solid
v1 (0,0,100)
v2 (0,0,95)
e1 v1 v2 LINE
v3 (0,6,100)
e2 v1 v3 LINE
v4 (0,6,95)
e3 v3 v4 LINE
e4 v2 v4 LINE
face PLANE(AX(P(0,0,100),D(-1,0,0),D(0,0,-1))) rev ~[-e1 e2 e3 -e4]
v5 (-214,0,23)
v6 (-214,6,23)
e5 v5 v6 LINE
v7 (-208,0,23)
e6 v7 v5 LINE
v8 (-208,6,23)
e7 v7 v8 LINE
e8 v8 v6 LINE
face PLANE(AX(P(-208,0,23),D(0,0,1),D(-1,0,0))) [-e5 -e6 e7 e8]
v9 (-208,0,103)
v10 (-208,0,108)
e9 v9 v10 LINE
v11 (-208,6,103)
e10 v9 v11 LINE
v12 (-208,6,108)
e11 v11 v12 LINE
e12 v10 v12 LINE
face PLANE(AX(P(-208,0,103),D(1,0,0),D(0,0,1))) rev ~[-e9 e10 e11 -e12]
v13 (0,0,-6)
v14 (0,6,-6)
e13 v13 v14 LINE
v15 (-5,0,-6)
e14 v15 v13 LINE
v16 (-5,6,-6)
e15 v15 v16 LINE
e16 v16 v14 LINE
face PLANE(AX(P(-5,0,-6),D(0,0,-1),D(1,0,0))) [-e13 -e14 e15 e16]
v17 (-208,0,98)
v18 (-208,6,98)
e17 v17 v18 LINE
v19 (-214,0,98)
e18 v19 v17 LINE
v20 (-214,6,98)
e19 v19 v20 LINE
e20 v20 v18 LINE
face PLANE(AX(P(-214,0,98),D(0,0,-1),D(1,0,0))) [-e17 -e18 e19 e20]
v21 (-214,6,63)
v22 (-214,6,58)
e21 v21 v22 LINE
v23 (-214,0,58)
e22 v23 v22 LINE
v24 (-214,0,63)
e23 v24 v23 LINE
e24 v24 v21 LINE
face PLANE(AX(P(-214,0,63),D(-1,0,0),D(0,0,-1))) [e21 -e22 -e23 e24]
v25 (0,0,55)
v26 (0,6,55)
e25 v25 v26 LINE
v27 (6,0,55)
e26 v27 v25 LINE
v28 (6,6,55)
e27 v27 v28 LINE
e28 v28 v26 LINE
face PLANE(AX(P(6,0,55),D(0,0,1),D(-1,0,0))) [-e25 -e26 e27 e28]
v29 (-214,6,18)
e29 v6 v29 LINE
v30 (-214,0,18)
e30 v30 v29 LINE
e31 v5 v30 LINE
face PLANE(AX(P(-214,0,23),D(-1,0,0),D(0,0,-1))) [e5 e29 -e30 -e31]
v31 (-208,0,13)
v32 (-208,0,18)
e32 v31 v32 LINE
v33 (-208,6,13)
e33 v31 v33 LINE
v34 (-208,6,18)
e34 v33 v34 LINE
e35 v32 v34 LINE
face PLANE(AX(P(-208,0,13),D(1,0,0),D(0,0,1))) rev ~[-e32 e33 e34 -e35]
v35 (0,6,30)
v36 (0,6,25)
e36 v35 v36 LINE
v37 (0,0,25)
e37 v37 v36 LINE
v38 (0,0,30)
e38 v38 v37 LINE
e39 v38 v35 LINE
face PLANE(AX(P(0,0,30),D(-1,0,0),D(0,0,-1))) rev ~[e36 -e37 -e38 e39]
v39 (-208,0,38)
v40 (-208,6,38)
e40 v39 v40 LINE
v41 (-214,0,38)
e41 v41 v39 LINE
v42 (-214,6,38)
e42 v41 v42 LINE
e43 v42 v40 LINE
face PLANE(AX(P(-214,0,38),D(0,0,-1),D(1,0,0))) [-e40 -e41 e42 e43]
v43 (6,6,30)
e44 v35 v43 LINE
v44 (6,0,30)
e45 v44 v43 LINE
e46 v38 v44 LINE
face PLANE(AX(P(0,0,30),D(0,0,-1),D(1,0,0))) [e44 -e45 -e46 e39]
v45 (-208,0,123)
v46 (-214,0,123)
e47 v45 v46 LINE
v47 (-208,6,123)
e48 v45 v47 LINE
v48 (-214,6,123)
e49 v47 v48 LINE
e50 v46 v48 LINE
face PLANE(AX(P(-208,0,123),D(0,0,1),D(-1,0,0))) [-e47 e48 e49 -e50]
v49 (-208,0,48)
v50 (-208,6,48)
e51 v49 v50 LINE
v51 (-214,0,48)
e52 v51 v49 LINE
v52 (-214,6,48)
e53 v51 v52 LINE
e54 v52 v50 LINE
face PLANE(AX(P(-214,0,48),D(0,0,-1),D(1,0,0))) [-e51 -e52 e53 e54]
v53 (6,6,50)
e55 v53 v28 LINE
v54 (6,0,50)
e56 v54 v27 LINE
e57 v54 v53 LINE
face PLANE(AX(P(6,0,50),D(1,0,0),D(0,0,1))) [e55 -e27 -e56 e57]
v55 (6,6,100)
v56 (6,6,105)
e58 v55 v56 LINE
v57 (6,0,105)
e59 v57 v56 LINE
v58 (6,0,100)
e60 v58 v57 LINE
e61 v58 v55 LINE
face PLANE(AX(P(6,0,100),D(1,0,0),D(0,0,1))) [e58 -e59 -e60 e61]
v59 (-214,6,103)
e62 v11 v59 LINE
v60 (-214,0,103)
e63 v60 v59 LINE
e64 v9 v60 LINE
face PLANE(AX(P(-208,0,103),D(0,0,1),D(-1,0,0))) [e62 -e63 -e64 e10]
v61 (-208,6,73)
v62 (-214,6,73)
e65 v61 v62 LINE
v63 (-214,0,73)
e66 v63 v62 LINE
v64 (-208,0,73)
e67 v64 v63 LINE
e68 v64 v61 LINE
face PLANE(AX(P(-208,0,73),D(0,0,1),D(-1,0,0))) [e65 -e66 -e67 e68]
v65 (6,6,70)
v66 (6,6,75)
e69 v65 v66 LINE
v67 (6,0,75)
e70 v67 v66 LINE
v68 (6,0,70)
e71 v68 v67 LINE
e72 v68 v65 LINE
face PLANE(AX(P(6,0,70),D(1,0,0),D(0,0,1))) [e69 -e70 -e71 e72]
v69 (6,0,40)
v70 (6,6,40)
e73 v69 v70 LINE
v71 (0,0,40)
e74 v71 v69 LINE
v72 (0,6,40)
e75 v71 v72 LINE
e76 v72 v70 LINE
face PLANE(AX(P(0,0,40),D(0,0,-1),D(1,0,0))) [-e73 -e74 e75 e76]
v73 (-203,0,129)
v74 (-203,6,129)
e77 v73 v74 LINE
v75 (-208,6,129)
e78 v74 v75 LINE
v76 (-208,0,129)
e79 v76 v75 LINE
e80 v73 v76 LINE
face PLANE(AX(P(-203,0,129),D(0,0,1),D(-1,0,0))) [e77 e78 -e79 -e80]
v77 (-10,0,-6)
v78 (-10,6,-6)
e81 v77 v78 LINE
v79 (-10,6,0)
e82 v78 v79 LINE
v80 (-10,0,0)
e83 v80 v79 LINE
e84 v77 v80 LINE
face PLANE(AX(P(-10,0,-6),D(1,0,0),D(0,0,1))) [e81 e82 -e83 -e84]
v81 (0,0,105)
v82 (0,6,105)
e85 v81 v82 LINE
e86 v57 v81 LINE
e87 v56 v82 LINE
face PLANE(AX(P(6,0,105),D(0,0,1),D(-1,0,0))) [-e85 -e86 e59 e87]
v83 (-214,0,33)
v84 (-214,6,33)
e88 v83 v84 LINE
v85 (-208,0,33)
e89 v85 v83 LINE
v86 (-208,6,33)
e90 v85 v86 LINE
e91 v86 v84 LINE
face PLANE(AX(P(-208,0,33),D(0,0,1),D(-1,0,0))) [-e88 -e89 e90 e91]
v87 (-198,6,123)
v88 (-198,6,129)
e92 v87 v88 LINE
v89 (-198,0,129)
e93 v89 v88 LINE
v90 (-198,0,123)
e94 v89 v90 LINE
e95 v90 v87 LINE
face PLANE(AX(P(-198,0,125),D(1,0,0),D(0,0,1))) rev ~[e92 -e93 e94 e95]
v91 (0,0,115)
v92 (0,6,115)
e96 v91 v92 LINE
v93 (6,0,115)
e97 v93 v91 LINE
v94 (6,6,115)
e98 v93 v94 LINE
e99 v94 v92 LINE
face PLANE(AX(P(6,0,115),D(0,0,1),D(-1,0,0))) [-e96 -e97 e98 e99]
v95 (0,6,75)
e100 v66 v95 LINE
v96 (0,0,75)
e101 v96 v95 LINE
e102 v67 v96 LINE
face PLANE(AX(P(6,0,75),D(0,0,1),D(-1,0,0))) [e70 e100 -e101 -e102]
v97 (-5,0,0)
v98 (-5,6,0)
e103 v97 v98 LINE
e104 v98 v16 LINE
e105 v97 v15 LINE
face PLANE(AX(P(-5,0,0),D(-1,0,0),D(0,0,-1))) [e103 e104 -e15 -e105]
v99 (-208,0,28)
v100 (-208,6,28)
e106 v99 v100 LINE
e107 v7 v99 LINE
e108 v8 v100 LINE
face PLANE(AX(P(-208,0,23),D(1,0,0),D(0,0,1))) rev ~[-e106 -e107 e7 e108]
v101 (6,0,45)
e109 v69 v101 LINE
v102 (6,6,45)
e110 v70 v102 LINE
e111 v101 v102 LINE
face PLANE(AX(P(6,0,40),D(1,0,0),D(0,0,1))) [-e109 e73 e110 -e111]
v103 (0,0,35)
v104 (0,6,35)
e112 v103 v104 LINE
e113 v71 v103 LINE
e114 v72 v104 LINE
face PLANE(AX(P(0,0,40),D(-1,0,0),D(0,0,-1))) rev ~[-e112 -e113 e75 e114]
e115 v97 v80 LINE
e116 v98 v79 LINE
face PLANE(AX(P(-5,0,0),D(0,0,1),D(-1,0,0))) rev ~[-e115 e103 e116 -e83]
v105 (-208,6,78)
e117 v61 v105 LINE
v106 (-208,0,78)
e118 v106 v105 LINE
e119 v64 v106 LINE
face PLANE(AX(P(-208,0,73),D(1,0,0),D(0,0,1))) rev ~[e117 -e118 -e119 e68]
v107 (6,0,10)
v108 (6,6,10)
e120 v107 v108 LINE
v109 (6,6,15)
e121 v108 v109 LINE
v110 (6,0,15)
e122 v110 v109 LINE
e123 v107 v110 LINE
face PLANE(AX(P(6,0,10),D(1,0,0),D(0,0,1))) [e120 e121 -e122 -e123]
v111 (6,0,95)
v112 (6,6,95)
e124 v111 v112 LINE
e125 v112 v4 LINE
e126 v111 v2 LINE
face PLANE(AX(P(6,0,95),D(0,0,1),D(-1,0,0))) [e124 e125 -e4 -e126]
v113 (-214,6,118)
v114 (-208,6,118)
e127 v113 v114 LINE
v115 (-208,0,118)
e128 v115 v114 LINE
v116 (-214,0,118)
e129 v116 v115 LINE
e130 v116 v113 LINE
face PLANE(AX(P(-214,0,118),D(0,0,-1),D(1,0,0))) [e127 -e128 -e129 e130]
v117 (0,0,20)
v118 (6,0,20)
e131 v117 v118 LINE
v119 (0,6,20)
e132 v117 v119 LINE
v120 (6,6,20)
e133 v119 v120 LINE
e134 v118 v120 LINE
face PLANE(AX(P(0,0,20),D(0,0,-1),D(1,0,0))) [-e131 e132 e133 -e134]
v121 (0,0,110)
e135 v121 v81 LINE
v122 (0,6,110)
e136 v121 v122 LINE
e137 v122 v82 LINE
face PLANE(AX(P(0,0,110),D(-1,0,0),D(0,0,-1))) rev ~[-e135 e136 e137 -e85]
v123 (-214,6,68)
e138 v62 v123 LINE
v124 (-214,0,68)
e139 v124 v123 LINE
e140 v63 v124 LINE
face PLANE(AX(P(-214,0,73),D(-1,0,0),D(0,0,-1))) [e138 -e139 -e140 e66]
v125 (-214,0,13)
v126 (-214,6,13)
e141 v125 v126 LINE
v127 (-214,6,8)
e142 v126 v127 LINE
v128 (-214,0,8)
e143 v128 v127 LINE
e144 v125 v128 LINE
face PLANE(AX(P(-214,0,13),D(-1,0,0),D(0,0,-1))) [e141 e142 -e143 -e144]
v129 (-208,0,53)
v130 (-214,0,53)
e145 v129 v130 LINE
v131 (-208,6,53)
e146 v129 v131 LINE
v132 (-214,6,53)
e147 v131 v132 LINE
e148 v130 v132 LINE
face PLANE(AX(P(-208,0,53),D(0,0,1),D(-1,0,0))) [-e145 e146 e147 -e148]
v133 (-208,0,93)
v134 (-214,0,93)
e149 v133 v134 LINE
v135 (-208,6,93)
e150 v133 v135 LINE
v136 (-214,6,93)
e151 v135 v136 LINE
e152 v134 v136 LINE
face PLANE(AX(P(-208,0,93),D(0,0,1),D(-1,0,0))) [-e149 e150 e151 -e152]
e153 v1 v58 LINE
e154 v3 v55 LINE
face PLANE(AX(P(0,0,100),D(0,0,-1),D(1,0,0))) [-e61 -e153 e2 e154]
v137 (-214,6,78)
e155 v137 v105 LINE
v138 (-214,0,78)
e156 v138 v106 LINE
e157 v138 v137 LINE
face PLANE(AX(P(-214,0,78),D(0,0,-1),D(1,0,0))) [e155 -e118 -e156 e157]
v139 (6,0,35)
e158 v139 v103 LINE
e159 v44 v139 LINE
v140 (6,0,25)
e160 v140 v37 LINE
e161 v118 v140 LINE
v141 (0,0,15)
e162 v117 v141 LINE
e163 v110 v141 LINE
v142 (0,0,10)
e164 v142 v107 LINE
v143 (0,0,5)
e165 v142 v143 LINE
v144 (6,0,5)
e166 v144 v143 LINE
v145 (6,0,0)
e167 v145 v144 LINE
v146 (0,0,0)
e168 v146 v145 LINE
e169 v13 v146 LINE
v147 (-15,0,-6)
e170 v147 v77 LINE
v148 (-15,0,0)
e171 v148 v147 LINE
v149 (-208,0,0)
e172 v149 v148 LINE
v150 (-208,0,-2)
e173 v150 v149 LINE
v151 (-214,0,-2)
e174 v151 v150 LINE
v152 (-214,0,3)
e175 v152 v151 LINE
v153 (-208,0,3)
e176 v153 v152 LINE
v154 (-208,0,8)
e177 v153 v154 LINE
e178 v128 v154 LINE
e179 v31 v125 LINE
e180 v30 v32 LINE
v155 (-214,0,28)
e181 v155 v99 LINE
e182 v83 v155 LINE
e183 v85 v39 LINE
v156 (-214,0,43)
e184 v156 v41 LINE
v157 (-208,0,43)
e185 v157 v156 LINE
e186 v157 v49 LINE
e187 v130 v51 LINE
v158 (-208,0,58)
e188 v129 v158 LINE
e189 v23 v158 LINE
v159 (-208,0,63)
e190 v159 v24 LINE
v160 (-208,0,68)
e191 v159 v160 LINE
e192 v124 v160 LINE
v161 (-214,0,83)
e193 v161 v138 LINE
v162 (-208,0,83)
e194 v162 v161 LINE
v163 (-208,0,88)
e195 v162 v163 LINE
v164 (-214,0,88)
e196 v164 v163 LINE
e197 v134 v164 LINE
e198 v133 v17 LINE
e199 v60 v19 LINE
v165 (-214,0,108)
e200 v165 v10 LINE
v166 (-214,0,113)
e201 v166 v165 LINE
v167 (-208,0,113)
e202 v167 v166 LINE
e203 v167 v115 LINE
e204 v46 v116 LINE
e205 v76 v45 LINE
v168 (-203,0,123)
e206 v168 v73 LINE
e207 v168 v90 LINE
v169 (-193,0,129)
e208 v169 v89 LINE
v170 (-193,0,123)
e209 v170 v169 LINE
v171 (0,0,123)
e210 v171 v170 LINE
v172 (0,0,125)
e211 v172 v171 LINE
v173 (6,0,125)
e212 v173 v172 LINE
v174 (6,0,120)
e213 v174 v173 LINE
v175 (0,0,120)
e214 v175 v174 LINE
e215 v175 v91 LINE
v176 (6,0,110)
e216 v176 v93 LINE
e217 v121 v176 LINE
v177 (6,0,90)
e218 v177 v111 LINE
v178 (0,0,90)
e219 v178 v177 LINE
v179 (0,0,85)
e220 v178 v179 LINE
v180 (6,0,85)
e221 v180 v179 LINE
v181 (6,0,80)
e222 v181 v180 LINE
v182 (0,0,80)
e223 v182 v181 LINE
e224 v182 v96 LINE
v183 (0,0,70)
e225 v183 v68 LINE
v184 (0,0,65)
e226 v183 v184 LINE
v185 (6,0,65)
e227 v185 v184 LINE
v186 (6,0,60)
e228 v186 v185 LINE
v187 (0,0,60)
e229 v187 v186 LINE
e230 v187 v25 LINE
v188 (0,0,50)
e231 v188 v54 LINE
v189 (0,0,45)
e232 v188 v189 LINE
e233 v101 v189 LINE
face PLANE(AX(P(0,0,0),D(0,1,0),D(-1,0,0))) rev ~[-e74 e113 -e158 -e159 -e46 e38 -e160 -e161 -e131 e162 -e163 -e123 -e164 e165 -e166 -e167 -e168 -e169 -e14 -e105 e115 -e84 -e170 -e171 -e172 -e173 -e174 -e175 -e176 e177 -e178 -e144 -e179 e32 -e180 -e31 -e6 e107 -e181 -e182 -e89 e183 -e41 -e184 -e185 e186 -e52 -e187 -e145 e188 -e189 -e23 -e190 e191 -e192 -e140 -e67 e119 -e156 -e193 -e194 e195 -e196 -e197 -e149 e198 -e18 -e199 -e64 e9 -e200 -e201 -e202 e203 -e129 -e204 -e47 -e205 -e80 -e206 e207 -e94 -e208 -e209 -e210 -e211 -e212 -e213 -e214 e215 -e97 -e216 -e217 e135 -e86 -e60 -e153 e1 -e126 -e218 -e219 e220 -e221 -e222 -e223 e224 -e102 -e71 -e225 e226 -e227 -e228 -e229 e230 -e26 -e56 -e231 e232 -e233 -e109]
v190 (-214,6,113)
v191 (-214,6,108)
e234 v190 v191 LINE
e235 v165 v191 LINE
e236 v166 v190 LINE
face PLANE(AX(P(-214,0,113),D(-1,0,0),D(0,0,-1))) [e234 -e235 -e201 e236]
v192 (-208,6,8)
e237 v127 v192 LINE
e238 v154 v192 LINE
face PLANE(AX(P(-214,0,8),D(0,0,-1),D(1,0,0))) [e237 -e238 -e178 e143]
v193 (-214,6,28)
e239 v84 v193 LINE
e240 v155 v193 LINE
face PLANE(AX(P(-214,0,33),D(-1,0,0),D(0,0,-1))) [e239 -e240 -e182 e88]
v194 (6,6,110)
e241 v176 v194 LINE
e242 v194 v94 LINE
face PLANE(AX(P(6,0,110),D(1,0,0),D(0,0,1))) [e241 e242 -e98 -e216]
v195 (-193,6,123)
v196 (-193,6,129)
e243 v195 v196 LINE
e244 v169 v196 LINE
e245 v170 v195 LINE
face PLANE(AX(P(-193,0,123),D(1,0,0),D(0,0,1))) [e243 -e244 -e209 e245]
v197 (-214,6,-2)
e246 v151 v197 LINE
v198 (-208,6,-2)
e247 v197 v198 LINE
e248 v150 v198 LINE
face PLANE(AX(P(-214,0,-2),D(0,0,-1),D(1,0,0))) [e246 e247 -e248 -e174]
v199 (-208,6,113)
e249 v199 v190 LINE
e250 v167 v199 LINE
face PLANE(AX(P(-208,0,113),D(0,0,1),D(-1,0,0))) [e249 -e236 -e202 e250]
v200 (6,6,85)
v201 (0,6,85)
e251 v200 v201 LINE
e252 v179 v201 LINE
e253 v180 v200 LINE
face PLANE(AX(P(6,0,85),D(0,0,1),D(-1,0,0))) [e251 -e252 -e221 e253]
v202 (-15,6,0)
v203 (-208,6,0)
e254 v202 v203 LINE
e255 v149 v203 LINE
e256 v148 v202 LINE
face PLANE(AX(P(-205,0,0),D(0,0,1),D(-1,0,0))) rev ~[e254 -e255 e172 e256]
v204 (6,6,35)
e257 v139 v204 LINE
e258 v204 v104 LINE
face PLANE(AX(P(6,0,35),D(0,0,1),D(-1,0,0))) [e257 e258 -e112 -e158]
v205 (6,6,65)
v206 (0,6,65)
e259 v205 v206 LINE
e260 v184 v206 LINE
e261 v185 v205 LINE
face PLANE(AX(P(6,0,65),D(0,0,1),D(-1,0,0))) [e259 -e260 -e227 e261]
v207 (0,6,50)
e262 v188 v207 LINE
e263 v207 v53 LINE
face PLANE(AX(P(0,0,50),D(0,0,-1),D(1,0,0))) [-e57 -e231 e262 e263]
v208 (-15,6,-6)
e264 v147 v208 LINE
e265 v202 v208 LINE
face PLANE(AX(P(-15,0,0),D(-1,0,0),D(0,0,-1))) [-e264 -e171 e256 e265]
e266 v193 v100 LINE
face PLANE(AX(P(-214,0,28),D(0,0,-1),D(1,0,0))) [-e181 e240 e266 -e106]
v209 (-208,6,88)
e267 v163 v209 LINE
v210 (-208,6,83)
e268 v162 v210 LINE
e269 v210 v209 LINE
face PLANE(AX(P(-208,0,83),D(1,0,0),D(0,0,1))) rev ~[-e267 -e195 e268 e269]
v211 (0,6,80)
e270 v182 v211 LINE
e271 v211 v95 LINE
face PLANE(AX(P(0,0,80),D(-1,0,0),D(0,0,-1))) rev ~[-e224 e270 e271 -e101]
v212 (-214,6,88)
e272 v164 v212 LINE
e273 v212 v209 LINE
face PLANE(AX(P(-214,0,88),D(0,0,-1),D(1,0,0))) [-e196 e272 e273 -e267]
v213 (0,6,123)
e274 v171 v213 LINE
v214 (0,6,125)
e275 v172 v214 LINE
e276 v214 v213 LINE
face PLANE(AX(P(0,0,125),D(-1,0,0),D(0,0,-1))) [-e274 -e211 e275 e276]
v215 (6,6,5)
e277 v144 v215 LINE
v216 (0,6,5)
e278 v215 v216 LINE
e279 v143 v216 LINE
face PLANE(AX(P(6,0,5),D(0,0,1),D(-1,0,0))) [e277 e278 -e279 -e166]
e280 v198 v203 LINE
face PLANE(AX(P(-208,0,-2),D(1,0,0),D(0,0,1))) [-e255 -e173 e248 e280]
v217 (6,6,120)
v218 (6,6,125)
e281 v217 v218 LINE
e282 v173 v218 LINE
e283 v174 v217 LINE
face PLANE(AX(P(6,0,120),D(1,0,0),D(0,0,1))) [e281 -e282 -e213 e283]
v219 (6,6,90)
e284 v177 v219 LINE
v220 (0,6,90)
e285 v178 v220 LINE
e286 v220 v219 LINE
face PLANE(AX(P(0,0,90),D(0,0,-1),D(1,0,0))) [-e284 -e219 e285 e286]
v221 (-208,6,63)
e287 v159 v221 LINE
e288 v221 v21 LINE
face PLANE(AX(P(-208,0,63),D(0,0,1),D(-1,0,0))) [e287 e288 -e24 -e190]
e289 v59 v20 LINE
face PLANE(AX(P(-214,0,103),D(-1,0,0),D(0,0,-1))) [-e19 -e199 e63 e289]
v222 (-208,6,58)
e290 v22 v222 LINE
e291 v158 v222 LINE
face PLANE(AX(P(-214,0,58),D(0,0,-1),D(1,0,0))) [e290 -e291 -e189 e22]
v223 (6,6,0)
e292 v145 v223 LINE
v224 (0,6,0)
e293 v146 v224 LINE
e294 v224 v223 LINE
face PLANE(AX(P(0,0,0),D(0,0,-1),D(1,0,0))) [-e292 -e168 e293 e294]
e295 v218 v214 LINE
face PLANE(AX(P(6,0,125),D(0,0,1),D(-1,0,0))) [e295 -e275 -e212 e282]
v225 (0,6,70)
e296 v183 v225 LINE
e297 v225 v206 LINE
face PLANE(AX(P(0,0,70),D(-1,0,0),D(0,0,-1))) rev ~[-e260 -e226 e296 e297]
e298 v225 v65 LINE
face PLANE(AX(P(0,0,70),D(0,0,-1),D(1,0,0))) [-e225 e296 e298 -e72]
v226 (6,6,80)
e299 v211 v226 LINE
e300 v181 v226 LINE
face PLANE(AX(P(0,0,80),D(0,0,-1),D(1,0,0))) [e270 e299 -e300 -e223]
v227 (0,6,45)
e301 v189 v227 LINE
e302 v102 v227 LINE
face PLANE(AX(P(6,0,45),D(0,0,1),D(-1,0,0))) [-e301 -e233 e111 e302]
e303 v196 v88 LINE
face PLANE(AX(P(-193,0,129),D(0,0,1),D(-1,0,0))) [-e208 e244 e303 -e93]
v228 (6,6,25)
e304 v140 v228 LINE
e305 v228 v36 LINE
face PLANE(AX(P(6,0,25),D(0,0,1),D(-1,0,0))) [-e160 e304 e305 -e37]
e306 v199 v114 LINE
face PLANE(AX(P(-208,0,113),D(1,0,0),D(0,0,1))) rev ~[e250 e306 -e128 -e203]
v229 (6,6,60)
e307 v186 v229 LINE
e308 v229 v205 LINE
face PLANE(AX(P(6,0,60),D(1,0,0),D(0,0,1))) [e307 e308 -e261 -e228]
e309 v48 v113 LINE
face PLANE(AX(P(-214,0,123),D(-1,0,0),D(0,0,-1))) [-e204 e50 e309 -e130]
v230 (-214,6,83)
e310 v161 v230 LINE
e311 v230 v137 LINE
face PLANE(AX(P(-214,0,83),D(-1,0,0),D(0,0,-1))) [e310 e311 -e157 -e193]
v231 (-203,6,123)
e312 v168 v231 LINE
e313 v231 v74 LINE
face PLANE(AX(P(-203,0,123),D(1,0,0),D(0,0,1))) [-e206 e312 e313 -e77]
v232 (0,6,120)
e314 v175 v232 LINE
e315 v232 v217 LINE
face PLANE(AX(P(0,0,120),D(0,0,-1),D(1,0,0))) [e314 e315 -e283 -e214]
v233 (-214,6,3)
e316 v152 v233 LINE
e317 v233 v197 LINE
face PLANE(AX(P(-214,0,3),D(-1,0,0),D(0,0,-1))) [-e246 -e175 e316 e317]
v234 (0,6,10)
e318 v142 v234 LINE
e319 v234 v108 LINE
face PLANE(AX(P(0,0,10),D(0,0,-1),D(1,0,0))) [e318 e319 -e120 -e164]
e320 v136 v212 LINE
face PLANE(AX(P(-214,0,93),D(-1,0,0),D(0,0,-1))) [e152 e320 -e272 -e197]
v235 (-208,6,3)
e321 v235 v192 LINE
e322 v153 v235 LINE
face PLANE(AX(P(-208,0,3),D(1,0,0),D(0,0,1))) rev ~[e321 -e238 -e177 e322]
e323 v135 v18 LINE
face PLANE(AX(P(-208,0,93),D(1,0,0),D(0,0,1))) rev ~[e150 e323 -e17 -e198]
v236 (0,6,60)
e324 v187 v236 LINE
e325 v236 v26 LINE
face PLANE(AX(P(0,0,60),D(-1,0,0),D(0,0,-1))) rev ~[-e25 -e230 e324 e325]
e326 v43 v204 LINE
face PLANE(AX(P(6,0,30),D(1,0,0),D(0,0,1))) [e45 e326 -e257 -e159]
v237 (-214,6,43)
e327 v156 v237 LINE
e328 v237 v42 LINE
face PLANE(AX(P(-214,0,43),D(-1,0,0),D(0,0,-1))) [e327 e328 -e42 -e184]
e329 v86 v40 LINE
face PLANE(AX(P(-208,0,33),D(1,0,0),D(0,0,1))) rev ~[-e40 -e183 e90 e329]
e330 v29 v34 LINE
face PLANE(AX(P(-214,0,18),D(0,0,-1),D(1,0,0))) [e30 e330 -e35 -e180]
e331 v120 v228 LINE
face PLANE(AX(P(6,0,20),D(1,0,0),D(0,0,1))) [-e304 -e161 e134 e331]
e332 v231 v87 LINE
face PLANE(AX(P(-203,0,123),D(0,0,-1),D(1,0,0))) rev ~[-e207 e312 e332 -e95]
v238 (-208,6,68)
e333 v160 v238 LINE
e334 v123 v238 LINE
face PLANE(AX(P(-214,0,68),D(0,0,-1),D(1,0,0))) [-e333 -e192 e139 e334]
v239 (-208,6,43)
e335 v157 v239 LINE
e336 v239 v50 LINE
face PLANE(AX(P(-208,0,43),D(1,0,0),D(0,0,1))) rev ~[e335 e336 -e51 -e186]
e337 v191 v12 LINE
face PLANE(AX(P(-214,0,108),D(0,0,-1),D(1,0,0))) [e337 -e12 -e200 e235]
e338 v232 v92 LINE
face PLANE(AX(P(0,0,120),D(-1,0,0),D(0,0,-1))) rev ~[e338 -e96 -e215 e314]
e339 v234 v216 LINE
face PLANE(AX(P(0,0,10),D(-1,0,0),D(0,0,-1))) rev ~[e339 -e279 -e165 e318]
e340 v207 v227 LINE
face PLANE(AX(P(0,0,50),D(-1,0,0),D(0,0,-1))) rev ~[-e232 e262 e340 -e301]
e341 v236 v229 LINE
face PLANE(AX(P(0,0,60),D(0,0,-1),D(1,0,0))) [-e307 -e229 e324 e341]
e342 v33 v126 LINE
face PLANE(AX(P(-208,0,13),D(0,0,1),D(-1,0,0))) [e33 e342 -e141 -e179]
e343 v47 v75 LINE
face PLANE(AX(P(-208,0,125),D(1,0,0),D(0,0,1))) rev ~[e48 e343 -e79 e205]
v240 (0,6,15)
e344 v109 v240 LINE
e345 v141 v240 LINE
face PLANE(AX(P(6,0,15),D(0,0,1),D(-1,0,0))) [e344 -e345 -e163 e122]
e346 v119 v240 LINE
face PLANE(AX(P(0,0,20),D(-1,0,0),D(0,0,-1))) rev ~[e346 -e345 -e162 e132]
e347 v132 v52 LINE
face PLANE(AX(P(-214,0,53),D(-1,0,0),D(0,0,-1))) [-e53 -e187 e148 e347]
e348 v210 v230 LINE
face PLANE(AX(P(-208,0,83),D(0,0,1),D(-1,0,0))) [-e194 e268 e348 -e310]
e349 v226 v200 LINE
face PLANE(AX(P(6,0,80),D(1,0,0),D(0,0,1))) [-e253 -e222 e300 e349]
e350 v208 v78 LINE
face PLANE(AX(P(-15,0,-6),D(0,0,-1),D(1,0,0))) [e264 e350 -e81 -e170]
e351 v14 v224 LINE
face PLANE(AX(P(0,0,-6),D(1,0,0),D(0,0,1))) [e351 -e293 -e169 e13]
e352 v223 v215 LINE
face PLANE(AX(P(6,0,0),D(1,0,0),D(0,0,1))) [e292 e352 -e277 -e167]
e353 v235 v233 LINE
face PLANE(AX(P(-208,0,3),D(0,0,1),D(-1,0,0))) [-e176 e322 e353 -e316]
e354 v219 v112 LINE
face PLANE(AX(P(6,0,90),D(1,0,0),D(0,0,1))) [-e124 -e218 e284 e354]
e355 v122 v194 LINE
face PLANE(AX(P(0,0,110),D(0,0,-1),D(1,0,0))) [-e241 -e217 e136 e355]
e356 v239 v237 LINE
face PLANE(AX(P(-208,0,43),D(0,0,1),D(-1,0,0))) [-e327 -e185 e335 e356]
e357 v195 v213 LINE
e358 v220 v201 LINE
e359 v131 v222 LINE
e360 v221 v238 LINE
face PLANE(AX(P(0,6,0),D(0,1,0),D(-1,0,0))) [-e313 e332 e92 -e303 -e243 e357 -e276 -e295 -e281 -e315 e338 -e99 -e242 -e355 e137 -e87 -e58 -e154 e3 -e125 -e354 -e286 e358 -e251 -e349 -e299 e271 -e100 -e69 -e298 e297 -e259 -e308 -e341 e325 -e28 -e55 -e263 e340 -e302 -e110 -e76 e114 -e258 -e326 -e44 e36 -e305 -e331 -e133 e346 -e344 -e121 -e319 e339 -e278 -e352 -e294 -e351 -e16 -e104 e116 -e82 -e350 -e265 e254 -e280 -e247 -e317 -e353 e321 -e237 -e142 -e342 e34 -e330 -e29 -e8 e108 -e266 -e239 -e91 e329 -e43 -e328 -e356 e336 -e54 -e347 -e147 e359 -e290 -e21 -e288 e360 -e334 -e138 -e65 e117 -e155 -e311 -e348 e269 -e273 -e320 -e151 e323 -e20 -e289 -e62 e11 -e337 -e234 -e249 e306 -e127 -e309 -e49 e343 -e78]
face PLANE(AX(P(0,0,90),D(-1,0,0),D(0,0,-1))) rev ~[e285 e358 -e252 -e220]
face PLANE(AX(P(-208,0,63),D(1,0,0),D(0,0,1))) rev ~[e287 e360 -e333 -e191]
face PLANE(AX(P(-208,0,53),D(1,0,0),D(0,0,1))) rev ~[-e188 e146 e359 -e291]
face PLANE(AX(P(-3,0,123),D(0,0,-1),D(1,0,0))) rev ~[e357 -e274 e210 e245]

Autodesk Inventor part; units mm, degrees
ref_plane "YZ Plane" through (0, 0, 0) normal (1, 0, 0) x (0, 1, 0)
ref_plane "XZ Plane" through (0, 0, 0) normal (0, 1, 0) x (-1, 0, 0)
ref_plane "XY Plane" through (0, 0, 0) normal (0, 0, 1) x (1, 0, 0)
sketch "Эскиз1" plane through (0, 0, 0) normal (0, 1, 0) x (-1, 0, 0)
  line L0 (0, 0) -> (208, 0)
  line L1 (208, 0) -> (208, 123)
  line L2 (208, 123) -> (0, 123)
  line L3 (0, 123) -> (0, 0)
  line L4 (208, 125) -> (208, 130)
  line L5 (208, 123) -> (214, 123)
  line L6 (214, 123) -> (214, 118)
  line L7 (214, 118) -> (208, 118)
  line L8 (208, 118) -> (208, 123)
  line L9 (208, 113) -> (214, 113)
  line L10 (214, 113) -> (214, 108)
  line L11 (214, 108) -> (208, 108)
  line L12 (208, 108) -> (208, 113)
  line L13 (208, 103) -> (214, 103)
  line L14 (214, 103) -> (214, 98)
  line L15 (214, 98) -> (208, 98)
  line L16 (208, 98) -> (208, 103)
  line L17 (208, 93) -> (214, 93)
  line L18 (214, 93) -> (214, 88)
  line L19 (214, 88) -> (208, 88)
  line L20 (208, 88) -> (208, 93)
  line L21 (208, 83) -> (214, 83)
  line L22 (214, 83) -> (214, 78)
  line L23 (214, 78) -> (208, 78)
  line L24 (208, 78) -> (208, 83)
  line L25 (208, 73) -> (214, 73)
  line L26 (214, 73) -> (214, 68)
  line L27 (214, 68) -> (208, 68)
  line L28 (208, 68) -> (208, 73)
  line L29 (208, 63) -> (214, 63)
  line L30 (214, 63) -> (214, 58)
  line L31 (214, 58) -> (208, 58)
  line L32 (208, 58) -> (208, 63)
  line L33 (208, 53) -> (214, 53)
  line L34 (214, 53) -> (214, 48)
  line L35 (214, 48) -> (208, 48)
  line L36 (208, 48) -> (208, 53)
  line L37 (208, 43) -> (214, 43)
  line L38 (214, 43) -> (214, 38)
  line L39 (214, 38) -> (208, 38)
  line L40 (208, 38) -> (208, 43)
  line L41 (208, 33) -> (214, 33)
  line L42 (214, 33) -> (214, 28)
  line L43 (214, 28) -> (208, 28)
  line L44 (208, 28) -> (208, 33)
  line L45 (208, 23) -> (214, 23)
  line L46 (214, 23) -> (214, 18)
  line L47 (214, 18) -> (208, 18)
  line L48 (208, 18) -> (208, 23)
  line L49 (208, 13) -> (214, 13)
  line L50 (214, 13) -> (214, 8)
  line L51 (214, 8) -> (208, 8)
  line L52 (208, 8) -> (208, 13)
  line L53 (208, 3) -> (214, 3)
  line L54 (214, 3) -> (214, -2)
  line L55 (214, -2) -> (208, -2)
  line L56 (208, -2) -> (208, 3)
  line L57 (0, 0) -> (-6, 0)
  line L58 (-6, 0) -> (-6, 5)
  line L59 (-6, 5) -> (0, 5)
  line L60 (0, 5) -> (0, 0)
  line L61 (0, 15) -> (0, 10)
  line L62 (0, 10) -> (-6, 10)
  line L63 (-6, 10) -> (-6, 15)
  line L64 (-6, 15) -> (0, 15)
  line L65 (0, 25) -> (0, 20)
  line L66 (0, 20) -> (-6, 20)
  line L67 (-6, 20) -> (-6, 25)
  line L68 (-6, 25) -> (0, 25)
  line L69 (0, 35) -> (0, 30)
  line L70 (0, 30) -> (-6, 30)
  line L71 (-6, 30) -> (-6, 35)
  line L72 (-6, 35) -> (0, 35)
  line L73 (0, 45) -> (0, 40)
  line L74 (0, 40) -> (-6, 40)
  line L75 (-6, 40) -> (-6, 45)
  line L76 (-6, 45) -> (0, 45)
  line L77 (0, 55) -> (0, 50)
  line L78 (0, 50) -> (-6, 50)
  line L79 (-6, 50) -> (-6, 55)
  line L80 (-6, 55) -> (0, 55)
  line L81 (0, 65) -> (0, 60)
  line L82 (0, 60) -> (-6, 60)
  line L83 (-6, 60) -> (-6, 65)
  line L84 (-6, 65) -> (0, 65)
  line L85 (0, 75) -> (0, 70)
  line L86 (0, 70) -> (-6, 70)
  line L87 (-6, 70) -> (-6, 75)
  line L88 (-6, 75) -> (0, 75)
  line L89 (0, 85) -> (0, 80)
  line L90 (0, 80) -> (-6, 80)
  line L91 (-6, 80) -> (-6, 85)
  line L92 (-6, 85) -> (0, 85)
  line L93 (0, 95) -> (0, 90)
  line L94 (0, 90) -> (-6, 90)
  line L95 (-6, 90) -> (-6, 95)
  line L96 (-6, 95) -> (0, 95)
  line L97 (0, 105) -> (0, 100)
  line L98 (0, 100) -> (-6, 100)
  line L99 (-6, 100) -> (-6, 105)
  line L100 (-6, 105) -> (0, 105)
  line L101 (0, 115) -> (0, 110)
  line L102 (0, 110) -> (-6, 110)
  line L103 (-6, 110) -> (-6, 115)
  line L104 (-6, 115) -> (0, 115)
  line L105 (0, 125) -> (0, 120)
  line L106 (0, 120) -> (-6, 120)
  line L107 (-6, 120) -> (-6, 125)
  line L108 (-6, 125) -> (0, 125)
  line L109 (208, 123) -> (203, 123)
  line L110 (203, 123) -> (203, 129)
  line L111 (203, 129) -> (208, 129)
  line L112 (208, 129) -> (208, 123)
  line L113 (198, 125) -> (198, 130)
  line L114 (198, 123) -> (193, 123)
  line L115 (198, 129) -> (198, 123)
  line L116 (193, 129) -> (198, 129)
  line L117 (193, 123) -> (193, 129)
  line L118 (188, 125) -> (188, 130)
  line L119 (188, 123) -> (183, 123)
  line L120 (188, 129) -> (188, 123)
  line L121 (183, 129) -> (188, 129)
  line L122 (183, 123) -> (183, 129)
  line L123 (178, 125) -> (178, 130)
  line L124 (178, 123) -> (173, 123)
  line L125 (178, 129) -> (178, 123)
  line L126 (173, 129) -> (178, 129)
  line L127 (173, 123) -> (173, 129)
  line L128 (168, 125) -> (168, 130)
  line L129 (168, 123) -> (163, 123)
  line L130 (168, 129) -> (168, 123)
  line L131 (163, 129) -> (168, 129)
  line L132 (163, 123) -> (163, 129)
  line L133 (158, 125) -> (158, 130)
  line L134 (158, 123) -> (153, 123)
  line L135 (158, 129) -> (158, 123)
  line L136 (153, 129) -> (158, 129)
  line L137 (153, 123) -> (153, 129)
  line L138 (148, 125) -> (148, 130)
  line L139 (148, 123) -> (143, 123)
  line L140 (148, 129) -> (148, 123)
  line L141 (143, 129) -> (148, 129)
  line L142 (143, 123) -> (143, 129)
  line L143 (138, 125) -> (138, 130)
  line L144 (138, 123) -> (133, 123)
  line L145 (138, 129) -> (138, 123)
  line L146 (133, 129) -> (138, 129)
  line L147 (133, 123) -> (133, 129)
  line L148 (128, 125) -> (128, 130)
  line L149 (128, 123) -> (123, 123)
  line L150 (128, 129) -> (128, 123)
  line L151 (123, 129) -> (128, 129)
  line L152 (123, 123) -> (123, 129)
  line L153 (118, 125) -> (118, 130)
  line L154 (118, 123) -> (113, 123)
  line L155 (118, 129) -> (118, 123)
  line L156 (113, 129) -> (118, 129)
  line L157 (113, 123) -> (113, 129)
  line L158 (108, 125) -> (108, 130)
  line L159 (108, 123) -> (103, 123)
  line L160 (108, 129) -> (108, 123)
  line L161 (103, 129) -> (108, 129)
  line L162 (103, 123) -> (103, 129)
  line L163 (98, 125) -> (98, 130)
  line L164 (98, 123) -> (93, 123)
  line L165 (98, 129) -> (98, 123)
  line L166 (93, 129) -> (98, 129)
  line L167 (93, 123) -> (93, 129)
  line L168 (88, 125) -> (88, 130)
  line L169 (88, 123) -> (83, 123)
  line L170 (88, 129) -> (88, 123)
  line L171 (83, 129) -> (88, 129)
  line L172 (83, 123) -> (83, 129)
  line L173 (78, 125) -> (78, 130)
  line L174 (78, 123) -> (73, 123)
  line L175 (78, 129) -> (78, 123)
  line L176 (73, 129) -> (78, 129)
  line L177 (73, 123) -> (73, 129)
  line L178 (68, 125) -> (68, 130)
  line L179 (68, 123) -> (63, 123)
  line L180 (68, 129) -> (68, 123)
  line L181 (63, 129) -> (68, 129)
  line L182 (63, 123) -> (63, 129)
  line L183 (58, 125) -> (58, 130)
  line L184 (58, 123) -> (53, 123)
  line L185 (58, 129) -> (58, 123)
  line L186 (53, 129) -> (58, 129)
  line L187 (53, 123) -> (53, 129)
  line L188 (48, 125) -> (48, 130)
  line L189 (48, 123) -> (43, 123)
  line L190 (48, 129) -> (48, 123)
  line L191 (43, 129) -> (48, 129)
  line L192 (43, 123) -> (43, 129)
  line L193 (38, 125) -> (38, 130)
  line L194 (38, 123) -> (33, 123)
  line L195 (38, 129) -> (38, 123)
  line L196 (33, 129) -> (38, 129)
  line L197 (33, 123) -> (33, 129)
  line L198 (28, 125) -> (28, 130)
  line L199 (28, 123) -> (23, 123)
  line L200 (28, 129) -> (28, 123)
  line L201 (23, 129) -> (28, 129)
  line L202 (23, 123) -> (23, 129)
  line L203 (18, 125) -> (18, 130)
  line L204 (18, 123) -> (13, 123)
  line L205 (18, 129) -> (18, 123)
  line L206 (13, 129) -> (18, 129)
  line L207 (13, 123) -> (13, 129)
  line L208 (8, 125) -> (8, 130)
  line L209 (8, 123) -> (3, 123)
  line L210 (8, 129) -> (8, 123)
  line L211 (3, 129) -> (8, 129)
  line L212 (3, 123) -> (3, 129)
  line L213 (0, 0) -> (5, 0)
  line L214 (5, 0) -> (5, -6)
  line L215 (5, -6) -> (0, -6)
  line L216 (0, -6) -> (0, 0)
  line L217 (10, 0) -> (15, 0)
  line L218 (10, -6) -> (10, 0)
  line L219 (15, -6) -> (10, -6)
  line L220 (15, 0) -> (15, -6)
  line L221 (20, 0) -> (25, 0)
  line L222 (20, -6) -> (20, 0)
  line L223 (25, -6) -> (20, -6)
  line L224 (25, 0) -> (25, -6)
  line L225 (30, 0) -> (35, 0)
  line L226 (30, -6) -> (30, 0)
  line L227 (35, -6) -> (30, -6)
  line L228 (35, 0) -> (35, -6)
  line L229 (40, 0) -> (45, 0)
  line L230 (40, -6) -> (40, 0)
  line L231 (45, -6) -> (40, -6)
  line L232 (45, 0) -> (45, -6)
  line L233 (50, 0) -> (55, 0)
  line L234 (50, -6) -> (50, 0)
  line L235 (55, -6) -> (50, -6)
  line L236 (55, 0) -> (55, -6)
  line L237 (60, 0) -> (65, 0)
  line L238 (60, -6) -> (60, 0)
  line L239 (65, -6) -> (60, -6)
  line L240 (65, 0) -> (65, -6)
  line L241 (70, 0) -> (75, 0)
  line L242 (70, -6) -> (70, 0)
  line L243 (75, -6) -> (70, -6)
  line L244 (75, 0) -> (75, -6)
  line L245 (80, 0) -> (85, 0)
  line L246 (80, -6) -> (80, 0)
  line L247 (85, -6) -> (80, -6)
  line L248 (85, 0) -> (85, -6)
  line L249 (90, 0) -> (95, 0)
  line L250 (90, -6) -> (90, 0)
  line L251 (95, -6) -> (90, -6)
  line L252 (95, 0) -> (95, -6)
  line L253 (100, 0) -> (105, 0)
  line L254 (100, -6) -> (100, 0)
  line L255 (105, -6) -> (100, -6)
  line L256 (105, 0) -> (105, -6)
  line L257 (110, 0) -> (115, 0)
  line L258 (110, -6) -> (110, 0)
  line L259 (115, -6) -> (110, -6)
  line L260 (115, 0) -> (115, -6)
  line L261 (120, 0) -> (125, 0)
  line L262 (120, -6) -> (120, 0)
  line L263 (125, -6) -> (120, -6)
  line L264 (125, 0) -> (125, -6)
  line L265 (130, 0) -> (135, 0)
  line L266 (130, -6) -> (130, 0)
  line L267 (135, -6) -> (130, -6)
  line L268 (135, 0) -> (135, -6)
  line L269 (140, 0) -> (145, 0)
  line L270 (140, -6) -> (140, 0)
  line L271 (145, -6) -> (140, -6)
  line L272 (145, 0) -> (145, -6)
  line L273 (150, 0) -> (155, 0)
  line L274 (150, -6) -> (150, 0)
  line L275 (155, -6) -> (150, -6)
  line L276 (155, 0) -> (155, -6)
  line L277 (160, 0) -> (165, 0)
  line L278 (160, -6) -> (160, 0)
  line L279 (165, -6) -> (160, -6)
  line L280 (165, 0) -> (165, -6)
  line L281 (170, 0) -> (175, 0)
  line L282 (170, -6) -> (170, 0)
  line L283 (175, -6) -> (170, -6)
  line L284 (175, 0) -> (175, -6)
  line L285 (180, 0) -> (185, 0)
  line L286 (180, -6) -> (180, 0)
  line L287 (185, -6) -> (180, -6)
  line L288 (185, 0) -> (185, -6)
  line L289 (190, 0) -> (195, 0)
  line L290 (190, -6) -> (190, 0)
  line L291 (195, -6) -> (190, -6)
  line L292 (195, 0) -> (195, -6)
  line L293 (200, 0) -> (205, 0)
  line L294 (200, -6) -> (200, 0)
  line L295 (205, -6) -> (200, -6)
  line L296 (205, 0) -> (205, -6)
  point P0 (208, 115)
  point P1 (208, 105)
  point P2 (208, 95)
  point P3 (208, 85)
  point P4 (208, 75)
  point P5 (208, 65)
  point P6 (208, 55)
  point P7 (208, 45)
  point P8 (208, 35)
  point P9 (208, 25)
  point P10 (208, 15)
  point P11 (208, 5)
  point P12 (214, 0)
  point P13 (-6, 123)
  dimension "d9" = 10
  dimension "d15" = 5
  dimension "d18" = 10
  dimension "d27" = 10
  dimension "d36" = 10
extrude "Выдавливание1" add sketch "Эскиз1" along normal blind 6 contours L3 L2 L1 L0 | L57 L58 L59 L3 | L0 L214 L215 L216 | L0 L220 L219 L218 | L62 L63 L64 L3 | L66 L67 L68 L3 | L70 L71 L72 L3 | L74 L75 L76 L3 | L78 L79 L80 L3 | L82 L83 L84 L3 | L86 L87 L88 L3 | L90 L91 L92 L3 | L94 L95 L96 L3 | L98 L99 L100 L3 | L102 L103 L104 L3 | L106 L107 L108 L105 L3 | L1 L53 L54 L55 L56 | L1 L49 L50 L51 | L1 L45 L46 L47 | L1 L41 L42 L43 | L1 L37 L38 L39 | L1 L33 L34 L35 | L1 L29 L30 L31 | L1 L25 L26 L27 | L1 L21 L22 L23 | L1 L17 L18 L19 | L1 L13 L14 L15 | L1 L9 L10 L11 | L117 L116 L113 L115 L2 | L1 L5 L6 L7 | L110 L111 L4 L112 L2
sketch "Эскиз2" plane through (0, 6, 0) normal (0, 1, 0) x (1, 0, 0)
  point P0 (0, 0)
properties part number "top"
